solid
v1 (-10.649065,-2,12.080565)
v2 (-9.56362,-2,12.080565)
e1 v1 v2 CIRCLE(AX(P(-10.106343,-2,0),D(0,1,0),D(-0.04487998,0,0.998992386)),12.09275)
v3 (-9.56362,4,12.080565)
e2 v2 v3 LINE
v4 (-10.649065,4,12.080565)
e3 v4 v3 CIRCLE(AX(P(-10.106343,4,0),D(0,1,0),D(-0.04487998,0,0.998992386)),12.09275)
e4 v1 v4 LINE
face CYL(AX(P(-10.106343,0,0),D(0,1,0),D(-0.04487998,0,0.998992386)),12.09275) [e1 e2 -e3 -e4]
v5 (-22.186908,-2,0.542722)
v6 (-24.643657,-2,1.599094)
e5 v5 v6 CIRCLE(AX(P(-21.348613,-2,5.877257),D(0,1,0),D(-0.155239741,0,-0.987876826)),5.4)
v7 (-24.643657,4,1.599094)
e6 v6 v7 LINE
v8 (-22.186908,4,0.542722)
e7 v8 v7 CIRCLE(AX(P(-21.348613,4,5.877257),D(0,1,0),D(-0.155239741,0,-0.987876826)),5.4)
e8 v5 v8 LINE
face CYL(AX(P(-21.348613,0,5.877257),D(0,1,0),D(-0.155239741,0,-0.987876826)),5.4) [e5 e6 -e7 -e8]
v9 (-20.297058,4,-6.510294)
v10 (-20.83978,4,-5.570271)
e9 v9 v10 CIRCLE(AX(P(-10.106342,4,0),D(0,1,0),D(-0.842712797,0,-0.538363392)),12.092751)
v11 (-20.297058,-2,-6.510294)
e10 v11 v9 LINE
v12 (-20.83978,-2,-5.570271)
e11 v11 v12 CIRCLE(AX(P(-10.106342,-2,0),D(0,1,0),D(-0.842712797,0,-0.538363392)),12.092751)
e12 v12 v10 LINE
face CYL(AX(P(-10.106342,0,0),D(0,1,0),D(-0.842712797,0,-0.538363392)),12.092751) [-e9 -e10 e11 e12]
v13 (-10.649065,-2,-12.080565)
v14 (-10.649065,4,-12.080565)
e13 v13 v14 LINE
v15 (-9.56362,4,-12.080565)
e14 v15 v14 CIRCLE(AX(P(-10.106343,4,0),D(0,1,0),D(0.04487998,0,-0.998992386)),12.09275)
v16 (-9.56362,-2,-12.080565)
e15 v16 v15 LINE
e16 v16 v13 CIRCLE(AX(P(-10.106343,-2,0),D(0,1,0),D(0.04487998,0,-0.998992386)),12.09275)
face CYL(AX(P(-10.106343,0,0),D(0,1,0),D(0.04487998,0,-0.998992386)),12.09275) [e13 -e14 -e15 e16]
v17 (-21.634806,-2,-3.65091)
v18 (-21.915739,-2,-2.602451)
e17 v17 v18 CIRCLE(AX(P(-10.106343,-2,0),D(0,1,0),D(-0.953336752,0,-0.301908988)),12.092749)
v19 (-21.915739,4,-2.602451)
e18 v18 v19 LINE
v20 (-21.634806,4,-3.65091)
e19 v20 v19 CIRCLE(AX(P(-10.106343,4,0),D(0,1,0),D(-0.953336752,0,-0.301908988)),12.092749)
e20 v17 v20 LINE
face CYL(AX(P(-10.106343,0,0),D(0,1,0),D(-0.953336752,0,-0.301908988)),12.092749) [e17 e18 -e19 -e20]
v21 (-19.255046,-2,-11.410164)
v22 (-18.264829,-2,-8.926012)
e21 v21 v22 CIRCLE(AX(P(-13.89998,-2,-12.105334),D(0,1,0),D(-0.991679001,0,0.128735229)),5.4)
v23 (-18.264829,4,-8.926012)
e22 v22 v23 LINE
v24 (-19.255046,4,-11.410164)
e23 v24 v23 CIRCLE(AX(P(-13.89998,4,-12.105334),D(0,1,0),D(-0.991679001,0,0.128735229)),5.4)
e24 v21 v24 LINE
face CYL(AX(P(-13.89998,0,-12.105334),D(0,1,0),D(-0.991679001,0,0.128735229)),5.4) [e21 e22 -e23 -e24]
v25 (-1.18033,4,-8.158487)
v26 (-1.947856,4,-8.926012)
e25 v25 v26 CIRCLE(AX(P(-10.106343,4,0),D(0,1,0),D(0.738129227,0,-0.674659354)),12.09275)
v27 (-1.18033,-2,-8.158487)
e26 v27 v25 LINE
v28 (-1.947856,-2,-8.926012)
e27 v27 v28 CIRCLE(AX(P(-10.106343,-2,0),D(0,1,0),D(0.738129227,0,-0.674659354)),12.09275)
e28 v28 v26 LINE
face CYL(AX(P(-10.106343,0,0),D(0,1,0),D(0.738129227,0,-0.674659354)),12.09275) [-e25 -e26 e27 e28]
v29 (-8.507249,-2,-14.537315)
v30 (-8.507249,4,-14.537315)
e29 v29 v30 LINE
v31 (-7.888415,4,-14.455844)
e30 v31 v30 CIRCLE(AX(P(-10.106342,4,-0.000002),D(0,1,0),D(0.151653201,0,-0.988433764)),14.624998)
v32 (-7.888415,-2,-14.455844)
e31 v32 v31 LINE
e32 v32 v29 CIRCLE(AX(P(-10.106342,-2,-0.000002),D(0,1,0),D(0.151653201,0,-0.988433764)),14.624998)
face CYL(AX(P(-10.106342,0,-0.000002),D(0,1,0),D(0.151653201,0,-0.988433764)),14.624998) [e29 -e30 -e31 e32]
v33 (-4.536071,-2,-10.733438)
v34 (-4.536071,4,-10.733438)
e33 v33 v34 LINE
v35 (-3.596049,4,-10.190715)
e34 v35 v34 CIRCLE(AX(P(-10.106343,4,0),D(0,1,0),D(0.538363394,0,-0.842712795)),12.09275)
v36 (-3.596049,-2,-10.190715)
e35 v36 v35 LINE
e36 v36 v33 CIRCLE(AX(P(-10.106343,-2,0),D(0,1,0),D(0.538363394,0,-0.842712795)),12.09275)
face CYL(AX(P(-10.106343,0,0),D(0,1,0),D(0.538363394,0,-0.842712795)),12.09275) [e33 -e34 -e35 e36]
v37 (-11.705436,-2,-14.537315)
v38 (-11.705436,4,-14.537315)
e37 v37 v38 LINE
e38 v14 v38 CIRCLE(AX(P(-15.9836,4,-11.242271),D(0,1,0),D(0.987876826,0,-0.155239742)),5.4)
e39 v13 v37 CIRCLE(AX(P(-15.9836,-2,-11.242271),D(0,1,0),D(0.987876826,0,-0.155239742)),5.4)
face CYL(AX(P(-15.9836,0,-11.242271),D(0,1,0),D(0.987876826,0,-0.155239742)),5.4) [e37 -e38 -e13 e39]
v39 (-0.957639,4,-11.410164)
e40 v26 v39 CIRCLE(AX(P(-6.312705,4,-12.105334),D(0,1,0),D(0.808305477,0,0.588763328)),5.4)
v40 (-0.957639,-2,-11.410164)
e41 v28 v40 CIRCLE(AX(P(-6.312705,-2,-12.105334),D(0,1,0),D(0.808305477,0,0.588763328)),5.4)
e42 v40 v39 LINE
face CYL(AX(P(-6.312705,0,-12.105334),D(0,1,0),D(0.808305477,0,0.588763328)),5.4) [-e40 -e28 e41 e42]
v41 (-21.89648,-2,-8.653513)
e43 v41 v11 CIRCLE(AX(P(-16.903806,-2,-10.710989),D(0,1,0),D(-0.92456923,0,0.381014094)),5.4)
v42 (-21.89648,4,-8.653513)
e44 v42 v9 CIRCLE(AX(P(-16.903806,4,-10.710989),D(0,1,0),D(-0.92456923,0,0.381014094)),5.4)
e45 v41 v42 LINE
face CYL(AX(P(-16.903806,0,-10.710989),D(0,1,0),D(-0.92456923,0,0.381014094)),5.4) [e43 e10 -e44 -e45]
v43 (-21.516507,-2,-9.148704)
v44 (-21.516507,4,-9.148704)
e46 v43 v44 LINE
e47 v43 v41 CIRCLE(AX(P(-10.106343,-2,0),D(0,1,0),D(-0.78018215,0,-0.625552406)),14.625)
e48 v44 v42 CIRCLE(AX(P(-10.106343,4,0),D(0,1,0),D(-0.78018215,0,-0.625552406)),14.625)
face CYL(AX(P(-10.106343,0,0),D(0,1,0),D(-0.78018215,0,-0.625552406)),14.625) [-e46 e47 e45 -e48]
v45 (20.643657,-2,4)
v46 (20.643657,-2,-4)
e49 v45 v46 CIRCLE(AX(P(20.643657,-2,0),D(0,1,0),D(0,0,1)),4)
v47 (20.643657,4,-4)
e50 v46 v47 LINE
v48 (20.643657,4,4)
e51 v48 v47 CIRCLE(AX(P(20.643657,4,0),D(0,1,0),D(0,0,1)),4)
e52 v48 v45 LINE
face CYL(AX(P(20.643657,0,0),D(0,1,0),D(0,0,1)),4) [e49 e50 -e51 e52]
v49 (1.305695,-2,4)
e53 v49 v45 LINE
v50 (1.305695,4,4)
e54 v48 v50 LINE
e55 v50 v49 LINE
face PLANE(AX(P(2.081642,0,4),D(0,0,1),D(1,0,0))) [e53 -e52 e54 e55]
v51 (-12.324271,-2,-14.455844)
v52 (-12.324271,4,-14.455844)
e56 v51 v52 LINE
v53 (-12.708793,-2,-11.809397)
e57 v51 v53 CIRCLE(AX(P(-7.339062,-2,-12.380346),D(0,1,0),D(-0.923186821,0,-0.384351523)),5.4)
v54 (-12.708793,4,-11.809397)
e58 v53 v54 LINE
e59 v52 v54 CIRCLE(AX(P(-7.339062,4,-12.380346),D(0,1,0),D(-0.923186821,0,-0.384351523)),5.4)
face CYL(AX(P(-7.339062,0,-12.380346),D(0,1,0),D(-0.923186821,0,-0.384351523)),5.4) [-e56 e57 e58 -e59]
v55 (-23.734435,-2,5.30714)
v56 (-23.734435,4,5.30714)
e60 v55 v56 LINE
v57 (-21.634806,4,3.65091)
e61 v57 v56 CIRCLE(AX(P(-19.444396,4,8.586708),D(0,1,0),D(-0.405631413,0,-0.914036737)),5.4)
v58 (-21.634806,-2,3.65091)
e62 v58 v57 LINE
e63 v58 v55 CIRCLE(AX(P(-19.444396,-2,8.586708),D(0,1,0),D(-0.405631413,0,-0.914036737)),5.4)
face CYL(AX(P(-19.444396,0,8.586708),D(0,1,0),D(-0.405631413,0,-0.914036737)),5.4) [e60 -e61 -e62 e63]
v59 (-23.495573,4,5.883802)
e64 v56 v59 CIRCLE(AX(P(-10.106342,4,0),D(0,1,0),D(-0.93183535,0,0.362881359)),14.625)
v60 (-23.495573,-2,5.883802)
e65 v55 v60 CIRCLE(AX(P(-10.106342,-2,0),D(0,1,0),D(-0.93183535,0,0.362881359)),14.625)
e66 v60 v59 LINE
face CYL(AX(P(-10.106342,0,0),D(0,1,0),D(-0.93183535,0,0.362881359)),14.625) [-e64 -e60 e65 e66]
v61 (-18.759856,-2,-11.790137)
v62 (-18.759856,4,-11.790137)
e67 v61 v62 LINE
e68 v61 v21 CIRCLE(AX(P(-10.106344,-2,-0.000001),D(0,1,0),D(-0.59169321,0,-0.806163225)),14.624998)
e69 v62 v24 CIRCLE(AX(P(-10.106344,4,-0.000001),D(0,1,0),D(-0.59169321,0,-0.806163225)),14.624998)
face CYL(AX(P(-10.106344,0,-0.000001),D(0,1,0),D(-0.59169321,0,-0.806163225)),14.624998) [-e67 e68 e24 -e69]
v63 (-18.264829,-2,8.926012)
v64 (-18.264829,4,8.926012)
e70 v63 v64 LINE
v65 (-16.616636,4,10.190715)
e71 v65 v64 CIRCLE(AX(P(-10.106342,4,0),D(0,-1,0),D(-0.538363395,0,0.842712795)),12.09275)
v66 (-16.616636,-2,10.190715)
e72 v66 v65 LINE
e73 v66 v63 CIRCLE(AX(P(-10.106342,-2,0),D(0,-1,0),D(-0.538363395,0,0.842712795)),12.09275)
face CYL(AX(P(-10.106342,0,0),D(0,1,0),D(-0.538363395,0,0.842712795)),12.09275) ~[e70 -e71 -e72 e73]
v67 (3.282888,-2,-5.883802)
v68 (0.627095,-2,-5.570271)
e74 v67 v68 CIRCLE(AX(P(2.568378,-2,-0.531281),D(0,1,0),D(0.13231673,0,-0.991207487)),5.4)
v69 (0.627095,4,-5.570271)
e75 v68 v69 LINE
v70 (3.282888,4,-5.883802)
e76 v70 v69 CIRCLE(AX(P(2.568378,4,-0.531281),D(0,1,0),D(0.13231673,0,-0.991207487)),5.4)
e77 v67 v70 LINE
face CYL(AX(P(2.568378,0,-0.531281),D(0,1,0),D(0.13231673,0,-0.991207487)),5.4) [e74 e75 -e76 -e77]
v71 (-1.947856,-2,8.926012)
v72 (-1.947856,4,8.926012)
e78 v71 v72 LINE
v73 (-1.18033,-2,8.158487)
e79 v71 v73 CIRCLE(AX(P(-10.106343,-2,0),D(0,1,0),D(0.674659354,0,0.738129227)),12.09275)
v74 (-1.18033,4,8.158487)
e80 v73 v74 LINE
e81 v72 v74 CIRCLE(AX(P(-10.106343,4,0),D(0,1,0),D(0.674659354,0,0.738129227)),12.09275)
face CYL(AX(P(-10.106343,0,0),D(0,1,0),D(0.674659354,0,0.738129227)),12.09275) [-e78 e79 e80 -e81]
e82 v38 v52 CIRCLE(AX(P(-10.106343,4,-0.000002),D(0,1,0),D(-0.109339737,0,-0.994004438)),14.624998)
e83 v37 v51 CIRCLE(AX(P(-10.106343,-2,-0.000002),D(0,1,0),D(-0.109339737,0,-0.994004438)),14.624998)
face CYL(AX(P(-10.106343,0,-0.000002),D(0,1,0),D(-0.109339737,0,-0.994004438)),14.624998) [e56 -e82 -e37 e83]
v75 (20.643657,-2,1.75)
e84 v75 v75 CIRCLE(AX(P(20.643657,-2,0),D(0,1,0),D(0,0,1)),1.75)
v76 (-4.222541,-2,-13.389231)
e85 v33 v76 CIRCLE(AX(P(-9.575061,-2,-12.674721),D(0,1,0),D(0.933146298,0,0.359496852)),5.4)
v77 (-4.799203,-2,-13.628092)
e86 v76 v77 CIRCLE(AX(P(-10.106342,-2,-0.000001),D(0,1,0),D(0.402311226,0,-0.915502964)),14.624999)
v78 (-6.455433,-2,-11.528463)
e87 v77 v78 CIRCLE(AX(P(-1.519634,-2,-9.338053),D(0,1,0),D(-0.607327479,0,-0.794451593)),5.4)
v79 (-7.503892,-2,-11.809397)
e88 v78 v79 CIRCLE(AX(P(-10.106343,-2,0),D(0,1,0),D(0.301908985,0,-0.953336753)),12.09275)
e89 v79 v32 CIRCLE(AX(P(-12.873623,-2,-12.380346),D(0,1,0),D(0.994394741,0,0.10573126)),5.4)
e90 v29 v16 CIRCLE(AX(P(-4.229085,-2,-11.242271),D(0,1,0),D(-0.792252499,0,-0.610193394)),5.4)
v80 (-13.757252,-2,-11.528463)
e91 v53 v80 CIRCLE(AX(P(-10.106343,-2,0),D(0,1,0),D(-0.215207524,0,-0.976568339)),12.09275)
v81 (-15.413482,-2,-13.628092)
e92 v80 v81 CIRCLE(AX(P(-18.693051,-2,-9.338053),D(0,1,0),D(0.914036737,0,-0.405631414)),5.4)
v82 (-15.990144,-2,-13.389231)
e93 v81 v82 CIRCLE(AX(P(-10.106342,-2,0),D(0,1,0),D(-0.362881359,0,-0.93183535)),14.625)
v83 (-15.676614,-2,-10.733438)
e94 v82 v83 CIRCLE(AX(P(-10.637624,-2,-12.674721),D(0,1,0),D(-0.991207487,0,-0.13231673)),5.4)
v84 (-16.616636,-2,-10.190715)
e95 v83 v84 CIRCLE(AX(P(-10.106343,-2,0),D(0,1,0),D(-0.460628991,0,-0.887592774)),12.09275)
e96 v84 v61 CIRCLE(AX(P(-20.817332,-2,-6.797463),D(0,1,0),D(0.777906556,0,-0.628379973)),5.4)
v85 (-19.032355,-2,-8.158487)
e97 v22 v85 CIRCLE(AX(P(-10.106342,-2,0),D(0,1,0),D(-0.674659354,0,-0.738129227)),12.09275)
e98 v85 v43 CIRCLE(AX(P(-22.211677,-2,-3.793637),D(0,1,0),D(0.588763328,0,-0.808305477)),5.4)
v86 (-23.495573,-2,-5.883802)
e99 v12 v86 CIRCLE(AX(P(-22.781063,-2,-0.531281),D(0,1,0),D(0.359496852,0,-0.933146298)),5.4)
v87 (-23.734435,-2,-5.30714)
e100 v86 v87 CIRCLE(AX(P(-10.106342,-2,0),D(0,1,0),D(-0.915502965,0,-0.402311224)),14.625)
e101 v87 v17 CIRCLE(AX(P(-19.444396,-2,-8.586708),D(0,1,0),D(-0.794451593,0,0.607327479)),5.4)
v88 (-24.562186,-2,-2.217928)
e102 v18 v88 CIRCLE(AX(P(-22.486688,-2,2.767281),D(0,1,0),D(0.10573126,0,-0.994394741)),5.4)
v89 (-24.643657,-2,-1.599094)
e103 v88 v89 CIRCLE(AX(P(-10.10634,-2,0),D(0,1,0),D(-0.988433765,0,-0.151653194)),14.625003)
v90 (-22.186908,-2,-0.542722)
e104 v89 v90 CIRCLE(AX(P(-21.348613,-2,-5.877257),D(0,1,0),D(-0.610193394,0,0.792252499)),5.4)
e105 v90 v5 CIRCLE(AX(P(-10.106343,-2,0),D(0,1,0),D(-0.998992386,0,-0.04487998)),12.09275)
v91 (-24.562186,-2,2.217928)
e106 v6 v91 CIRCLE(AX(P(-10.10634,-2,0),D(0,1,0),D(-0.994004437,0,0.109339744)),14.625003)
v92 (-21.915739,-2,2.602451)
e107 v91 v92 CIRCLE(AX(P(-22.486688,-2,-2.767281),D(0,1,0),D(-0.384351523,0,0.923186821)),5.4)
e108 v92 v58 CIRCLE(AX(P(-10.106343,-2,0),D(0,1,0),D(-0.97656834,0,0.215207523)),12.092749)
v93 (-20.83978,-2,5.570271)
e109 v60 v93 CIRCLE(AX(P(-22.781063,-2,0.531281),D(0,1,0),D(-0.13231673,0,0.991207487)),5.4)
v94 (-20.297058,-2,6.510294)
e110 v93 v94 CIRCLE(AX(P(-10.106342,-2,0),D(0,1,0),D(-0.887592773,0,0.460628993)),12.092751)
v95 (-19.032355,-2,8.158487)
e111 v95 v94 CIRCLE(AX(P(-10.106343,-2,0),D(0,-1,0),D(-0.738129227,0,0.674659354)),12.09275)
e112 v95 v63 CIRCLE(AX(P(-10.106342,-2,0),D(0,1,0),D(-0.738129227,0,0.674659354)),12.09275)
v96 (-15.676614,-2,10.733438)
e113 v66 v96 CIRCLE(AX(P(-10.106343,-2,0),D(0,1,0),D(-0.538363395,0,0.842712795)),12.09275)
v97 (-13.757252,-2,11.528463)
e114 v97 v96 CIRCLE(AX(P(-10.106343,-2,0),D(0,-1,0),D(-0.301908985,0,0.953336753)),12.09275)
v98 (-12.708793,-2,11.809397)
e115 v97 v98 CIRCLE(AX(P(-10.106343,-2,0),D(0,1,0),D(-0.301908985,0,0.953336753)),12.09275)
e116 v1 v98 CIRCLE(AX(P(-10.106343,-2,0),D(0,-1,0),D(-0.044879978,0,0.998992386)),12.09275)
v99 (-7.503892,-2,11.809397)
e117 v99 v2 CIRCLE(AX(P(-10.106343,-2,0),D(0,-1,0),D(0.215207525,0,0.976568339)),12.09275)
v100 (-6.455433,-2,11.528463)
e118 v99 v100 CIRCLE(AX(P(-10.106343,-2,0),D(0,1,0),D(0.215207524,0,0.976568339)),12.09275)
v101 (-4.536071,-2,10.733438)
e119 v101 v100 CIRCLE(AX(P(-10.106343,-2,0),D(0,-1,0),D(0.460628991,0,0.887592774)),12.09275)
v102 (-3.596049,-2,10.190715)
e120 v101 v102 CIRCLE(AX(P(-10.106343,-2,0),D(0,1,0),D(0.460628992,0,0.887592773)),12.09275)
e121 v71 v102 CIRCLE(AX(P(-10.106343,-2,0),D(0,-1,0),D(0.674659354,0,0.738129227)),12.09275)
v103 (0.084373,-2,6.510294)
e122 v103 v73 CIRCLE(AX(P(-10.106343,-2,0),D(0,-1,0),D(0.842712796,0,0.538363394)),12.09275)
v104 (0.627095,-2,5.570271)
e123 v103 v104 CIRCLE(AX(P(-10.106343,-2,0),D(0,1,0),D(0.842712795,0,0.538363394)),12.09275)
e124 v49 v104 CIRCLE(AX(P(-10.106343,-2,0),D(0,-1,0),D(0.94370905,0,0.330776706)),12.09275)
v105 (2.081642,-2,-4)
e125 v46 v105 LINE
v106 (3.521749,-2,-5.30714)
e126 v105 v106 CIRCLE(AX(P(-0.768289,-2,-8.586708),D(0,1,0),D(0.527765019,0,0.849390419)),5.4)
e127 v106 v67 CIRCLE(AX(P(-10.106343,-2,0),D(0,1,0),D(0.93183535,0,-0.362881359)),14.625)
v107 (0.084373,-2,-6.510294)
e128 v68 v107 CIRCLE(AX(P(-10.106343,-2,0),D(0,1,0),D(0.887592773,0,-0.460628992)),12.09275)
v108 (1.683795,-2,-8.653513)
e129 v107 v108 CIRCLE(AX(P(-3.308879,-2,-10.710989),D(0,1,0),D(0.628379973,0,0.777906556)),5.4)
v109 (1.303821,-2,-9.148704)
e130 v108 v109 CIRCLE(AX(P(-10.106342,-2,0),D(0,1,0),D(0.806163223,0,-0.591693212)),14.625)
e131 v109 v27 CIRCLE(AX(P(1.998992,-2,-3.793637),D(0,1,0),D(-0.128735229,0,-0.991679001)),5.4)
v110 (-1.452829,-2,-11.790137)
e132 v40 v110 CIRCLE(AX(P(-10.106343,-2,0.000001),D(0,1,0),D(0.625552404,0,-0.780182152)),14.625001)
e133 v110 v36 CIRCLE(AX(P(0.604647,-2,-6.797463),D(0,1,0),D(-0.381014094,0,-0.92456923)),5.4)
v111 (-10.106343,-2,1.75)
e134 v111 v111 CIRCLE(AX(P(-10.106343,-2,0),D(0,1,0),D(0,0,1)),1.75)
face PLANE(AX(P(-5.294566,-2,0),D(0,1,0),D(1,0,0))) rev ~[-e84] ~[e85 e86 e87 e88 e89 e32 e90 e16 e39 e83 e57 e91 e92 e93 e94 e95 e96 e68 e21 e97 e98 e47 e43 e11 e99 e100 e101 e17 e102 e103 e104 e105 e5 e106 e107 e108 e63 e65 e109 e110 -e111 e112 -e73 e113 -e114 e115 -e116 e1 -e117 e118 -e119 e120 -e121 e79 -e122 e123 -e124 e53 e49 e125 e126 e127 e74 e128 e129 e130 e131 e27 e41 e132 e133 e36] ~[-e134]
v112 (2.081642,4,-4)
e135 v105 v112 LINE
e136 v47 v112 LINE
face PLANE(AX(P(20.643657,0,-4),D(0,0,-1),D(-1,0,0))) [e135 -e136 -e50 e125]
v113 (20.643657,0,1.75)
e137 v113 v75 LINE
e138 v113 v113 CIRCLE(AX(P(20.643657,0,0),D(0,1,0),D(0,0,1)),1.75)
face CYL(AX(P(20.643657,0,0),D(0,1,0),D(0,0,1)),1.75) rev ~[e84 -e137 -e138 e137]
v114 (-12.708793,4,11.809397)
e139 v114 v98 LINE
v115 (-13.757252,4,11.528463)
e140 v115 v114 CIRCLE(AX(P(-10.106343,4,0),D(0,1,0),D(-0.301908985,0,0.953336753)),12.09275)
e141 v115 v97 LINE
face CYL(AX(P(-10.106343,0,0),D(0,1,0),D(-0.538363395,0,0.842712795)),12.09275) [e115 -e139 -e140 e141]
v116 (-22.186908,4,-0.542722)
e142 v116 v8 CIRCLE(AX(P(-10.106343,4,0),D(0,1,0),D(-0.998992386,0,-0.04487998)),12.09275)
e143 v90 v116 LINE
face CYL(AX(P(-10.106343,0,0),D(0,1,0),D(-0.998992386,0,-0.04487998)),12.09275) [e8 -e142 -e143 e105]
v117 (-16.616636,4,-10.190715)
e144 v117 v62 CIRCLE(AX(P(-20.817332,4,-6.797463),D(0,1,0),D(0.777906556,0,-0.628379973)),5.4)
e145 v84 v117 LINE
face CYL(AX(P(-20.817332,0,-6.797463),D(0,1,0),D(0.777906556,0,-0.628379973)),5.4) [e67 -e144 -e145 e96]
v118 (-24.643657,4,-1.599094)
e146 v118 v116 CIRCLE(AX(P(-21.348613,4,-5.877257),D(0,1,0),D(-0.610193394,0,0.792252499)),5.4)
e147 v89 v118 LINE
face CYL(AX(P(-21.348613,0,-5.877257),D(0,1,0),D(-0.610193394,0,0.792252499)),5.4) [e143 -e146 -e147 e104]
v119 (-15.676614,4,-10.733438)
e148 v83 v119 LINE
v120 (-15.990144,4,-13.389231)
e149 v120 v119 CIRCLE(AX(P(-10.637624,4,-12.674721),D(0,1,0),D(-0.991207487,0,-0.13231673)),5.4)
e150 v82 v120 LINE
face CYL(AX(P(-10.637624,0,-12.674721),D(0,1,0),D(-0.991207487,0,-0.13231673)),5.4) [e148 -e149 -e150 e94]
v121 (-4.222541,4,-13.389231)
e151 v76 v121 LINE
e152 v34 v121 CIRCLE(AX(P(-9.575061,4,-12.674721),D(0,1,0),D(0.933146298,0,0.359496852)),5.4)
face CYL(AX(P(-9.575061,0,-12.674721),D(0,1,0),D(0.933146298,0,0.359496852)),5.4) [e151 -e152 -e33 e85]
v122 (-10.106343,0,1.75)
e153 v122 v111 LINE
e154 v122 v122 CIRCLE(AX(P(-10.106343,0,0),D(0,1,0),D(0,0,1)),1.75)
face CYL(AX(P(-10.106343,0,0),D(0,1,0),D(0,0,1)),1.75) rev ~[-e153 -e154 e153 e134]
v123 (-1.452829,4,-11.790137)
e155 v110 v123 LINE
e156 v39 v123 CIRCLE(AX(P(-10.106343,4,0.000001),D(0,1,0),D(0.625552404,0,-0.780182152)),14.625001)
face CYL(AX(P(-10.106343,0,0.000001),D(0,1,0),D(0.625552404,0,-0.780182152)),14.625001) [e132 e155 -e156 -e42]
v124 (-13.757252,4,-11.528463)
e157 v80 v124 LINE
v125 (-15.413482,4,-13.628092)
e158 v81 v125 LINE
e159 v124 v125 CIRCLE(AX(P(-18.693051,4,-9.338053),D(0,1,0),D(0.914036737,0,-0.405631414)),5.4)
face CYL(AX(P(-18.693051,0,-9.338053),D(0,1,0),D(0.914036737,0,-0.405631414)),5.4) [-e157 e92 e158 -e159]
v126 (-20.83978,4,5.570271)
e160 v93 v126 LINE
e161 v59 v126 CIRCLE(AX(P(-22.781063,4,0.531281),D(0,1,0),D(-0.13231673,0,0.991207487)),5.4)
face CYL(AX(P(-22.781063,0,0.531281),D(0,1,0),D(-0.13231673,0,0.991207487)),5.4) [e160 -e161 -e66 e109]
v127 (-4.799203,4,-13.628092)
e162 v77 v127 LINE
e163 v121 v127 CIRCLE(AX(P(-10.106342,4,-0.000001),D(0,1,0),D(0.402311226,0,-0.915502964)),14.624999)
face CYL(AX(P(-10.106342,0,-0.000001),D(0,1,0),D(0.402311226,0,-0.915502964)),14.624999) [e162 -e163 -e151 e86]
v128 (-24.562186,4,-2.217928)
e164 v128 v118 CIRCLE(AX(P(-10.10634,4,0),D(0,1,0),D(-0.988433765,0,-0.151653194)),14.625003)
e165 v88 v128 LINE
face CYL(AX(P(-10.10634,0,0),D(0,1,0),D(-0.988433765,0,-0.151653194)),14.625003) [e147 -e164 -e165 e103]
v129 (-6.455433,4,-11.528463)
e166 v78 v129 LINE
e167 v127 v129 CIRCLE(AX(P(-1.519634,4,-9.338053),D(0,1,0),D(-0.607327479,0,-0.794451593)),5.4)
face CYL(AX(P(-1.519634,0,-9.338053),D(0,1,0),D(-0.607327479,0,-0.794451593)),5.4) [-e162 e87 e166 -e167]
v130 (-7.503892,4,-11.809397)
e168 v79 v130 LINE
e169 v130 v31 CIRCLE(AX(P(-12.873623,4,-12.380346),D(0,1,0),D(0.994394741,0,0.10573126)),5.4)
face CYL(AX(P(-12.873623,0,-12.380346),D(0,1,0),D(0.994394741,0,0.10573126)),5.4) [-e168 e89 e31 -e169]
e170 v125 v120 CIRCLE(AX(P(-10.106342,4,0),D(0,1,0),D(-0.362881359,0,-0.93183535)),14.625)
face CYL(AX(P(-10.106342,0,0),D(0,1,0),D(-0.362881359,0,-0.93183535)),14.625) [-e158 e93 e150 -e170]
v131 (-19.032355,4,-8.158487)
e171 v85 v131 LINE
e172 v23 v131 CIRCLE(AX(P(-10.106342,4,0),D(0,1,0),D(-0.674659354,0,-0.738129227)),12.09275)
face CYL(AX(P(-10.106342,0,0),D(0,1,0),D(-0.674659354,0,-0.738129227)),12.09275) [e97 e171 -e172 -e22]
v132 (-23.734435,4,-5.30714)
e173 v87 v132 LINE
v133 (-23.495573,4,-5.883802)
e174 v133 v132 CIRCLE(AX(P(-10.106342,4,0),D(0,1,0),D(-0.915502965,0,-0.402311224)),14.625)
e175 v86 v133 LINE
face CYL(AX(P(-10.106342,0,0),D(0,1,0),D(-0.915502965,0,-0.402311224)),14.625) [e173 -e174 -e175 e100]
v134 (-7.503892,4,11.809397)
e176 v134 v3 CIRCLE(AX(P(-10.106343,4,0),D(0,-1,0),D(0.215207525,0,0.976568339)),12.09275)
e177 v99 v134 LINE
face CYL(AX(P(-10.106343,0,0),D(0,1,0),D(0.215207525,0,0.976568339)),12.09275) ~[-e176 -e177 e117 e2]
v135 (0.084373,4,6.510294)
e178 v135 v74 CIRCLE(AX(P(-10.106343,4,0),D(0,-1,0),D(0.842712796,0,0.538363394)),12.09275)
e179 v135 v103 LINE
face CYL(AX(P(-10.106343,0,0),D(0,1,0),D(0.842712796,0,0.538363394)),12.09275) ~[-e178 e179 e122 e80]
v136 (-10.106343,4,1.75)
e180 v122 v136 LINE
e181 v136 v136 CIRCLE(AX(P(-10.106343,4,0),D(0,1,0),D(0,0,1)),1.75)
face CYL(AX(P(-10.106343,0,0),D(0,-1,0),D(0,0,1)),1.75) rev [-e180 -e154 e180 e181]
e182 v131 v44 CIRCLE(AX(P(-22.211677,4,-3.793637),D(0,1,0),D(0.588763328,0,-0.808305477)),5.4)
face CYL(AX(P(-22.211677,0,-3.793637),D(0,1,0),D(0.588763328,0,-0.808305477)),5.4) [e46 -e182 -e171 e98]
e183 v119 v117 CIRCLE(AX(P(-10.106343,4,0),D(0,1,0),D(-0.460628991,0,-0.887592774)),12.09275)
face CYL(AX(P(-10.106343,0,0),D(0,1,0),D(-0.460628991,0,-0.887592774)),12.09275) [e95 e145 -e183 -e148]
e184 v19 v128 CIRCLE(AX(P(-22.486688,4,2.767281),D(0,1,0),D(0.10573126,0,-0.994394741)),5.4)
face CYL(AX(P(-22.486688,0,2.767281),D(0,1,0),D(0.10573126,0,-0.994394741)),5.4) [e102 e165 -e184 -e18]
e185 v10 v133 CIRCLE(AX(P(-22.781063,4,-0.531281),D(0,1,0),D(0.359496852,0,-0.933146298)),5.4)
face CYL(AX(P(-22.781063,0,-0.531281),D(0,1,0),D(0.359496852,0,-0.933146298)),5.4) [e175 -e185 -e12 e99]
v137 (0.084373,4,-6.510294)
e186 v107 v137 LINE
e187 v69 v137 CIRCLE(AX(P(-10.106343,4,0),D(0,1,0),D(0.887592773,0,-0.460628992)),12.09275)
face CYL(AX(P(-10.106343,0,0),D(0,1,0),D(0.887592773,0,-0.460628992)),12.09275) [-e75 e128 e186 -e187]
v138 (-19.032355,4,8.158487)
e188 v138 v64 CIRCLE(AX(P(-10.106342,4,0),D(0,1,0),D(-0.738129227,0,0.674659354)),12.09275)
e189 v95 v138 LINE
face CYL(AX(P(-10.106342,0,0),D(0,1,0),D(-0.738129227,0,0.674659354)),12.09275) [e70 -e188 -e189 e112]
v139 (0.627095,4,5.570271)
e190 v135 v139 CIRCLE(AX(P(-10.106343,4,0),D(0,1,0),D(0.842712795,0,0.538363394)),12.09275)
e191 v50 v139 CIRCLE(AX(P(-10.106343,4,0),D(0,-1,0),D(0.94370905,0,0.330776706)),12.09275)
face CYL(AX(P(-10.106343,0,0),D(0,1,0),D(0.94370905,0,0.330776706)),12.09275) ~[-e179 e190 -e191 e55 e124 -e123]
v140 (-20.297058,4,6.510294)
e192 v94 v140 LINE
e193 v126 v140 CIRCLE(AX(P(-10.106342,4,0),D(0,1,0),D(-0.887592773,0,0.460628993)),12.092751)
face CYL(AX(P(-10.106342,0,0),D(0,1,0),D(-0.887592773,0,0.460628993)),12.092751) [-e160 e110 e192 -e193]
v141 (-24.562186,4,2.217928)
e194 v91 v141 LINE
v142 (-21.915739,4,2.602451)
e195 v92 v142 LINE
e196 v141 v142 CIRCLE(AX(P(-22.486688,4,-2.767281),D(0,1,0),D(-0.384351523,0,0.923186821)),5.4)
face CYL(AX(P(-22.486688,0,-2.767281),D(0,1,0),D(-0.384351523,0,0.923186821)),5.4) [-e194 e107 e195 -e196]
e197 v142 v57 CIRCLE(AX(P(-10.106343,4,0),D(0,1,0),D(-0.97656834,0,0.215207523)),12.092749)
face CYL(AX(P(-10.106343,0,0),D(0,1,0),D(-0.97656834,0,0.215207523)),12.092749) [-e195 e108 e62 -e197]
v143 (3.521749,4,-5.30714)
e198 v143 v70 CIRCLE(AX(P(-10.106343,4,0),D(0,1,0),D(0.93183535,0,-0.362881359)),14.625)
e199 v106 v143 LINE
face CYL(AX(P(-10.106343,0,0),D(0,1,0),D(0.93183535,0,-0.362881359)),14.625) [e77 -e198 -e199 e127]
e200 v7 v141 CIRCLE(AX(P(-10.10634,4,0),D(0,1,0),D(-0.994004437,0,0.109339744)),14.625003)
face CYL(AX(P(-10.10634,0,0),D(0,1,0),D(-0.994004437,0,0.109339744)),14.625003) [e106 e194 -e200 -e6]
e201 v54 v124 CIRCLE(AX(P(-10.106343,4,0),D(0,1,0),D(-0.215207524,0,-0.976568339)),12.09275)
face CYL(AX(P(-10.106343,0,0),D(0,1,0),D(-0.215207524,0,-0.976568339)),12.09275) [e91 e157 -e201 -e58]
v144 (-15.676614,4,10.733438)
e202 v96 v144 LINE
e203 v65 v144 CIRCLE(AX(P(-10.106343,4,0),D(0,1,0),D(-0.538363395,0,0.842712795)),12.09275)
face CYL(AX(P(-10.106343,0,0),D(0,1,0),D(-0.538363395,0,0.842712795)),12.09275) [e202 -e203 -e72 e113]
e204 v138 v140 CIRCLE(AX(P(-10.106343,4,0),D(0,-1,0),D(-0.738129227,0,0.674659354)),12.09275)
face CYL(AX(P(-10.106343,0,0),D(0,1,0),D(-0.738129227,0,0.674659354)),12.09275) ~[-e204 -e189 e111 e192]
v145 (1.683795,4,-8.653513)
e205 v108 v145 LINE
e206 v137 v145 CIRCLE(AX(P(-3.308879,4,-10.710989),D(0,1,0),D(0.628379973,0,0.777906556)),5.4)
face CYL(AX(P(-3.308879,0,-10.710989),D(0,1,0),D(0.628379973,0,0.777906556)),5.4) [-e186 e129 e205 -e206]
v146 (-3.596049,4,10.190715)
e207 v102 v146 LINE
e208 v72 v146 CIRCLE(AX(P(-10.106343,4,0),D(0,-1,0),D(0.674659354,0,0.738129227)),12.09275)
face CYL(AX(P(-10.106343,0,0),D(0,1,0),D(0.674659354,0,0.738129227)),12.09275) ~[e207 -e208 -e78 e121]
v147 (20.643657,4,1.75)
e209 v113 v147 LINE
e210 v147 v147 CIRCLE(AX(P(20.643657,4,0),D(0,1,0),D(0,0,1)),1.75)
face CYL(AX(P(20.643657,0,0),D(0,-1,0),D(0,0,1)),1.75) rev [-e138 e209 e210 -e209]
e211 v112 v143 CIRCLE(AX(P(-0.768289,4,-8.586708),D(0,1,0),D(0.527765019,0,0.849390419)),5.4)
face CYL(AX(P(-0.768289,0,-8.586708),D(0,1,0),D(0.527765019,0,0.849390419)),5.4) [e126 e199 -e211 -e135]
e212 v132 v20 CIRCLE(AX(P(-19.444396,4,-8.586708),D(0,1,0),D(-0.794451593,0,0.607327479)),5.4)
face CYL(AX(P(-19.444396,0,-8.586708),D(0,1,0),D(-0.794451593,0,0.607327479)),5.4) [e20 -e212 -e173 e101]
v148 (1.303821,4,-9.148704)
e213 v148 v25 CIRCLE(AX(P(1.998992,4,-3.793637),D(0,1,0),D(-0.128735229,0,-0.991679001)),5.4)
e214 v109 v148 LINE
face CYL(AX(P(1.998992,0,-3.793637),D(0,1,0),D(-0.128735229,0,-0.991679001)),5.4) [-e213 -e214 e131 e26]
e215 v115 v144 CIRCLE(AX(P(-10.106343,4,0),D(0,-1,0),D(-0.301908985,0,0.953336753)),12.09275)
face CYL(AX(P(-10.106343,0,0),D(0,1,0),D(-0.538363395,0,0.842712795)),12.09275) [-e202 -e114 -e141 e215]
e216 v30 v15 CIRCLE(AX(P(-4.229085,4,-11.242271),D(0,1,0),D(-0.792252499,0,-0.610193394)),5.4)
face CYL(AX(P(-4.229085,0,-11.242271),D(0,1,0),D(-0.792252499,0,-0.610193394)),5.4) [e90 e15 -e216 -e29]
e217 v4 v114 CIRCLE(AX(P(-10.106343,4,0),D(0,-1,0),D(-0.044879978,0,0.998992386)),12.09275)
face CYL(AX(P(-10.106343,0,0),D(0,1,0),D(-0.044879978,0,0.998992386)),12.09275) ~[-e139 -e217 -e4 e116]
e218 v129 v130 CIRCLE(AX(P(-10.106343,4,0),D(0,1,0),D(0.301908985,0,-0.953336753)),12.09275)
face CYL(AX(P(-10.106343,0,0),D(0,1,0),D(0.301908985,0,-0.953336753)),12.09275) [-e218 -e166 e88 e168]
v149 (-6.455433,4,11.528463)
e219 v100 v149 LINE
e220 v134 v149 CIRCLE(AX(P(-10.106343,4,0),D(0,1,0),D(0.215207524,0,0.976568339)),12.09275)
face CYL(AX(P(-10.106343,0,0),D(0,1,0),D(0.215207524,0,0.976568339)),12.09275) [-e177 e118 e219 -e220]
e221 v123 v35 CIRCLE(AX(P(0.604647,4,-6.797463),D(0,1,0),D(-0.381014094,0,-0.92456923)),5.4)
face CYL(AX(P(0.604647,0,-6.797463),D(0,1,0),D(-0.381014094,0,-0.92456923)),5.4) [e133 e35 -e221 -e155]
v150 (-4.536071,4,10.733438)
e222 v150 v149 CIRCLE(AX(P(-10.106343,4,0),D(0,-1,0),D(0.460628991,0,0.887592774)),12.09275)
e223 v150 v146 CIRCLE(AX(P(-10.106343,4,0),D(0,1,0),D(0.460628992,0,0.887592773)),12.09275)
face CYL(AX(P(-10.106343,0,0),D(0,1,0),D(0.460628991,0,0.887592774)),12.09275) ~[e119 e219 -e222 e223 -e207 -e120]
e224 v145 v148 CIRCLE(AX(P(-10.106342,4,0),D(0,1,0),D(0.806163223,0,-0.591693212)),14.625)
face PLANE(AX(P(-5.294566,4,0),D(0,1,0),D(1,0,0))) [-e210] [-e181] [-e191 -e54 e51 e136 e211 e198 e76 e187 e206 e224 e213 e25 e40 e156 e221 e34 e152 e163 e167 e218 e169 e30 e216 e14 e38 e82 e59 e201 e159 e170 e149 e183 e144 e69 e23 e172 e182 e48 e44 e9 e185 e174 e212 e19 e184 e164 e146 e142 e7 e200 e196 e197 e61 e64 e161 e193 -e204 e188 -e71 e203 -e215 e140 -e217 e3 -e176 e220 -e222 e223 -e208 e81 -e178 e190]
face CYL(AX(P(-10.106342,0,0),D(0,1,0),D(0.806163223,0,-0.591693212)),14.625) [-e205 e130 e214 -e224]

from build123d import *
from build123d.topology import SkipClean

# Parameters (mm, degrees)
SKETCH1_R           = 1.75
BOSS_EXTRUDE1_DEPTH = 4
CUT_EXTRUDE1_START  = -10
CUT_EXTRUDE1_DEPTH  = 10
MOVE_FACE1_BY       = 2


with BuildPart() as part:
    # Sketch1 → Boss-Extrude1 (new body)
    with BuildSketch(Plane(origin=(0, 0, 0), x_dir=(1, 0, 0), z_dir=(0, 1, 0))):
        with BuildLine():
            Line((20.643657446, 4), (2.081641936, 4))
            ThreePointArc((2.081641936, 4), (2.861028333, 4.588201733), (3.521749436, 5.30713988))
            ThreePointArc((3.521749436, 5.30713988), (3.405395609, 5.596745198), (3.282888305, 5.883801663))
            ThreePointArc((3.282888305, 5.883801663), (1.93527598, 5.894040025), (0.627094961, 5.57027124))
            ThreePointArc((0.627094961, 5.57027124), (0.366286148, 6.046375), (0.084372603, 6.510293938))
            ThreePointArc((0.084372603, 6.510293938), (1.018855105, 7.48132754), (1.683794586, 8.65351323))
            ThreePointArc((1.683794586, 8.65351323), (1.496450048, 8.903135899), (1.303821399, 9.148703928))
            ThreePointArc((1.303821399, 9.148703928), (-0.000522033, 8.809805691), (-1.180330337, 8.158486898))
            ThreePointArc((-1.180330337, 8.158486898), (-1.555477026, 8.550865528), (-1.947855656, 8.926012217))
            ThreePointArc((-1.947855656, 8.926012217), (-1.296536862, 10.105820521), (-0.957638625, 11.410163953))
            ThreePointArc((-0.957638625, 11.410163953), (-1.203206655, 11.602792602), (-1.452829324, 11.79013714))
            ThreePointArc((-1.452829324, 11.79013714), (-2.625015014, 11.125197659), (-3.596048616, 10.190715157))
            ThreePointArc((-3.596048616, 10.190715157), (-4.059967554, 10.472628702), (-4.536071314, 10.733437515))
            ThreePointArc((-4.536071314, 10.733437515), (-4.212302529, 12.041618533), (-4.222540891, 13.389230859))
            ThreePointArc((-4.222540891, 13.389230859), (-4.509597355, 13.511738163), (-4.799202674, 13.62809199))
            ThreePointArc((-4.799202674, 13.62809199), (-5.759348103, 12.682425791), (-6.455432668, 11.528463019))
            ThreePointArc((-6.455432668, 11.528463019), (-6.976508546, 11.680699536), (-7.503891752, 11.809396783))
            ThreePointArc((-7.503891752, 11.809396783), (-7.529737283, 13.156800143), (-7.888414517, 14.455843809))
            ThreePointArc((-7.888414517, 14.455843809), (-8.197396993, 14.499881098), (-8.507248835, 14.537314892))
            ThreePointArc((-8.507248835, 14.537314892), (-9.18992168, 13.375367565), (-9.563620196, 12.080565177))
            ThreePointArc((-9.563620196, 12.080565177), (-10.106342554, 12.09275), (-10.649064912, 12.080565177))
            ThreePointArc((-10.649064912, 12.080565177), (-11.022763428, 13.375367565), (-11.705436272, 14.537314892))
            ThreePointArc((-11.705436272, 14.537314892), (-12.015288115, 14.499881098), (-12.324270591, 14.455843809))
            ThreePointArc((-12.324270591, 14.455843809), (-12.682947825, 13.156800143), (-12.708793355, 11.809396783))
            ThreePointArc((-12.708793355, 11.809396783), (-13.236176561, 11.680699536), (-13.757252439, 11.528463019))
            ThreePointArc((-13.757252439, 11.528463019), (-14.453337005, 12.682425791), (-15.413482434, 13.62809199))
            ThreePointArc((-15.413482434, 13.62809199), (-15.703087752, 13.511738163), (-15.990144217, 13.389230859))
            ThreePointArc((-15.990144217, 13.389230859), (-16.000382579, 12.041618533), (-15.676613793, 10.733437515))
            ThreePointArc((-15.676613793, 10.733437515), (-16.152717554, 10.472628702), (-16.616636492, 10.190715157))
            ThreePointArc((-16.616636492, 10.190715157), (-17.587670094, 11.125197659), (-18.759855783, 11.79013714))
            ThreePointArc((-18.759855783, 11.79013714), (-19.009478453, 11.602792602), (-19.255046482, 11.410163953))
            ThreePointArc((-19.255046482, 11.410163953), (-18.916148245, 10.105820521), (-18.264829452, 8.926012217))
            ThreePointArc((-18.264829452, 8.926012217), (-18.657208082, 8.550865528), (-19.032354771, 8.158486898))
            ThreePointArc((-19.032354771, 8.158486898), (-20.212163074, 8.809805691), (-21.516506507, 9.148703928))
            ThreePointArc((-21.516506507, 9.148703928), (-21.709135156, 8.903135899), (-21.896479694, 8.65351323))
            ThreePointArc((-21.896479694, 8.65351323), (-21.231540213, 7.48132754), (-20.297057711, 6.510293938))
            ThreePointArc((-20.297057711, 6.510293938), (-20.578971255, 6.046375), (-20.839780068, 5.57027124))
            ThreePointArc((-20.839780068, 5.57027124), (-22.147961087, 5.894040025), (-23.495573413, 5.883801663))
            ThreePointArc((-23.495573413, 5.883801663), (-23.618080717, 5.596745198), (-23.734434544, 5.30713988))
            ThreePointArc((-23.734434544, 5.30713988), (-22.788768345, 4.346994451), (-21.634805572, 3.650909885))
            ThreePointArc((-21.634805572, 3.650909885), (-21.78704209, 3.129834008), (-21.915739337, 2.602450802))
            ThreePointArc((-21.915739337, 2.602450802), (-23.263142697, 2.576605271), (-24.562186363, 2.217928037))
            ThreePointArc((-24.562186363, 2.217928037), (-24.606223651, 1.908945561), (-24.643657446, 1.599093719))
            ThreePointArc((-24.643657446, 1.599093719), (-23.481710119, 0.916420874), (-22.186907731, 0.542722358))
            ThreePointArc((-22.186907731, 0.542722358), (-22.199092554, 0), (-22.186907731, -0.542722358))
            ThreePointArc((-22.186907731, -0.542722358), (-23.481710119, -0.916420874), (-24.643657446, -1.599093719))
            ThreePointArc((-24.643657446, -1.599093719), (-24.606223651, -1.908945561), (-24.562186363, -2.217928037))
            ThreePointArc((-24.562186363, -2.217928037), (-23.263142697, -2.576605271), (-21.915739337, -2.602450802))
            ThreePointArc((-21.915739337, -2.602450802), (-21.78704209, -3.129834008), (-21.634805572, -3.650909885))
            ThreePointArc((-21.634805572, -3.650909885), (-22.788768345, -4.346994451), (-23.734434544, -5.30713988))
            ThreePointArc((-23.734434544, -5.30713988), (-23.618080717, -5.596745198), (-23.495573413, -5.883801663))
            ThreePointArc((-23.495573413, -5.883801663), (-22.147961087, -5.894040025), (-20.839780068, -5.57027124))
            ThreePointArc((-20.839780068, -5.57027124), (-20.578971255, -6.046375), (-20.297057711, -6.510293938))
            ThreePointArc((-20.297057711, -6.510293938), (-21.231540213, -7.48132754), (-21.896479694, -8.65351323))
            ThreePointArc((-21.896479694, -8.65351323), (-21.709135156, -8.903135899), (-21.516506507, -9.148703928))
            ThreePointArc((-21.516506507, -9.148703928), (-20.212163074, -8.809805691), (-19.032354771, -8.158486898))
            ThreePointArc((-19.032354771, -8.158486898), (-18.657208082, -8.550865528), (-18.264829452, -8.926012217))
            ThreePointArc((-18.264829452, -8.926012217), (-18.916148245, -10.105820521), (-19.255046482, -11.410163953))
            ThreePointArc((-19.255046482, -11.410163953), (-19.009478453, -11.602792602), (-18.759855783, -11.79013714))
            ThreePointArc((-18.759855783, -11.79013714), (-17.587670094, -11.125197659), (-16.616636492, -10.190715157))
            ThreePointArc((-16.616636492, -10.190715157), (-16.152717554, -10.472628702), (-15.676613793, -10.733437515))
            ThreePointArc((-15.676613793, -10.733437515), (-16.000382579, -12.041618533), (-15.990144217, -13.389230859))
            ThreePointArc((-15.990144217, -13.389230859), (-15.703087752, -13.511738163), (-15.413482434, -13.62809199))
            ThreePointArc((-15.413482434, -13.62809199), (-14.453337005, -12.682425791), (-13.757252439, -11.528463019))
            ThreePointArc((-13.757252439, -11.528463019), (-13.236176561, -11.680699536), (-12.708793355, -11.809396783))
            ThreePointArc((-12.708793355, -11.809396783), (-12.682947825, -13.156800143), (-12.324270591, -14.455843809))
            ThreePointArc((-12.324270591, -14.455843809), (-12.015288115, -14.499881098), (-11.705436272, -14.537314892))
            ThreePointArc((-11.705436272, -14.537314892), (-11.022763428, -13.375367565), (-10.649064912, -12.080565177))
            ThreePointArc((-10.649064912, -12.080565177), (-10.106342554, -12.09275), (-9.563620196, -12.080565177))
            ThreePointArc((-9.563620196, -12.080565177), (-9.18992168, -13.375367565), (-8.507248835, -14.537314892))
            ThreePointArc((-8.507248835, -14.537314892), (-8.197396993, -14.499881098), (-7.888414517, -14.455843809))
            ThreePointArc((-7.888414517, -14.455843809), (-7.529737283, -13.156800143), (-7.503891752, -11.809396783))
            ThreePointArc((-7.503891752, -11.809396783), (-6.976508546, -11.680699536), (-6.455432668, -11.528463019))
            ThreePointArc((-6.455432668, -11.528463019), (-5.759348103, -12.682425791), (-4.799202674, -13.62809199))
            ThreePointArc((-4.799202674, -13.62809199), (-4.509597355, -13.511738163), (-4.222540891, -13.389230859))
            ThreePointArc((-4.222540891, -13.389230859), (-4.212302529, -12.041618533), (-4.536071314, -10.733437515))
            ThreePointArc((-4.536071314, -10.733437515), (-4.059967554, -10.472628702), (-3.596048616, -10.190715157))
            ThreePointArc((-3.596048616, -10.190715157), (-2.625015014, -11.125197659), (-1.452829324, -11.79013714))
            ThreePointArc((-1.452829324, -11.79013714), (-1.203206655, -11.602792602), (-0.957638625, -11.410163953))
            ThreePointArc((-0.957638625, -11.410163953), (-1.296536862, -10.105820521), (-1.947855656, -8.926012217))
            ThreePointArc((-1.947855656, -8.926012217), (-1.555477026, -8.550865528), (-1.180330337, -8.158486898))
            ThreePointArc((-1.180330337, -8.158486898), (-0.000522033, -8.809805691), (1.303821399, -9.148703928))
            ThreePointArc((1.303821399, -9.148703928), (1.496450048, -8.903135899), (1.683794586, -8.65351323))
            ThreePointArc((1.683794586, -8.65351323), (1.018855105, -7.48132754), (0.084372603, -6.510293938))
            ThreePointArc((0.084372603, -6.510293938), (0.366286148, -6.046375), (0.627094961, -5.57027124))
            ThreePointArc((0.627094961, -5.57027124), (1.93527598, -5.894040025), (3.282888305, -5.883801663))
            ThreePointArc((3.282888305, -5.883801663), (3.405395609, -5.596745198), (3.521749436, -5.30713988))
            ThreePointArc((3.521749436, -5.30713988), (2.861028333, -4.588201733), (2.081641936, -4))
            Line((2.081641936, -4), (20.643657446, -4))
            ThreePointArc((20.643657446, -4), (24.643657446, 0), (20.643657446, 4))
        make_face()
        with Locations(Location((-10.106342554, 0, 0), (0, 0, 270))):
            Circle(SKETCH1_R, mode=Mode.SUBTRACT)
        with Locations(Location((20.643657446, 0, 0), (0, 0, 270))):
            Circle(SKETCH1_R, mode=Mode.SUBTRACT)
    extrude(amount=BOSS_EXTRUDE1_DEPTH)

    # Sketch2 → Cut-Extrude1 (cut)
    with SkipClean():  # the faces are left unmerged after this step: merging them gives an invalid solid
        with BuildSketch(Plane(origin=(0, 4, 0), x_dir=(1, 0, 0), z_dir=(0, 1, 0)).offset(CUT_EXTRUDE1_START)):
            with BuildLine():
                ThreePointArc((-21.516506507, -9.148703928), (-20.212163074, -8.809805691), (-19.032354771, -8.158486898))
                ThreePointArc((-19.032354771, -8.158486898), (-19.70016616, -7.361599771), (-20.297057711, -6.510293938))
                ThreePointArc((-20.297057711, -6.510293938), (-21.231540213, -7.48132754), (-21.896479694, -8.65351323))
                ThreePointArc((-21.896479694, -8.65351323), (-21.709135156, -8.903135899), (-21.516506507, -9.148703928))
            make_face()
            with BuildLine():
                ThreePointArc((-18.759855783, -11.79013714), (-17.587670094, -11.125197659), (-16.616636492, -10.190715157))
                ThreePointArc((-16.616636492, -10.190715157), (-17.467942324, -9.593823606), (-18.264829452, -8.926012217))
                ThreePointArc((-18.264829452, -8.926012217), (-18.916148245, -10.105820521), (-19.255046482, -11.410163953))
                ThreePointArc((-19.255046482, -11.410163953), (-19.009478453, -11.602792602), (-18.759855783, -11.79013714))
            make_face()
            with BuildLine():
                ThreePointArc((-15.413482434, -13.62809199), (-14.453337005, -12.682425791), (-13.757252439, -11.528463019))
                ThreePointArc((-13.757252439, -11.528463019), (-14.734037631, -11.172244217), (-15.676613793, -10.733437515))
                ThreePointArc((-15.676613793, -10.733437515), (-16.000382579, -12.041618533), (-15.990144217, -13.389230859))
                ThreePointArc((-15.990144217, -13.389230859), (-15.703087752, -13.511738163), (-15.413482434, -13.62809199))
            make_face()
            with BuildLine():
                ThreePointArc((-11.705436272, -14.537314892), (-11.022763428, -13.375367565), (-10.649064912, -12.080565177))
                ThreePointArc((-10.649064912, -12.080565177), (-11.684763165, -11.989294847), (-12.708793355, -11.809396783))
                ThreePointArc((-12.708793355, -11.809396783), (-12.682947825, -13.156800143), (-12.324270591, -14.455843809))
                ThreePointArc((-12.324270591, -14.455843809), (-12.015288115, -14.499881098), (-11.705436272, -14.537314892))
            make_face()
            with BuildLine():
                ThreePointArc((-7.888414517, -14.455843809), (-7.529737283, -13.156800143), (-7.503891752, -11.809396783))
                ThreePointArc((-7.503891752, -11.809396783), (-8.527921943, -11.989294847), (-9.563620196, -12.080565177))
                ThreePointArc((-9.563620196, -12.080565177), (-9.18992168, -13.375367565), (-8.507248835, -14.537314892))
                ThreePointArc((-8.507248835, -14.537314892), (-8.197396993, -14.499881098), (-7.888414517, -14.455843809))
            make_face()
            with BuildLine():
                ThreePointArc((-4.222540891, -13.389230859), (-4.212302529, -12.041618533), (-4.536071314, -10.733437515))
                ThreePointArc((-4.536071314, -10.733437515), (-5.478647477, -11.172244217), (-6.455432668, -11.528463019))
                ThreePointArc((-6.455432668, -11.528463019), (-5.759348103, -12.682425791), (-4.799202674, -13.62809199))
                ThreePointArc((-4.799202674, -13.62809199), (-4.509597355, -13.511738163), (-4.222540891, -13.389230859))
            make_face()
            with BuildLine():
                ThreePointArc((-0.957638625, -11.410163953), (-1.296536862, -10.105820521), (-1.947855656, -8.926012217))
                ThreePointArc((-1.947855656, -8.926012217), (-2.744742783, -9.593823606), (-3.596048616, -10.190715157))
                ThreePointArc((-3.596048616, -10.190715157), (-2.625015014, -11.125197659), (-1.452829324, -11.79013714))
                ThreePointArc((-1.452829324, -11.79013714), (-1.203206655, -11.602792602), (-0.957638625, -11.410163953))
            make_face()
            with BuildLine():
                ThreePointArc((1.683794586, -8.65351323), (1.018855105, -7.48132754), (0.084372603, -6.510293938))
                ThreePointArc((0.084372603, -6.510293938), (-0.512518948, -7.361599771), (-1.180330337, -8.158486898))
                ThreePointArc((-1.180330337, -8.158486898), (-0.000522033, -8.809805691), (1.303821399, -9.148703928))
                ThreePointArc((1.303821399, -9.148703928), (1.496450048, -8.903135899), (1.683794586, -8.65351323))
            make_face()
            with BuildLine():
                ThreePointArc((3.521749436, -5.30713988), (2.861028333, -4.588201733), (2.081641936, -4))
                Line((2.081641936, -4), (1.305695063, -4))
                ThreePointArc((1.305695063, -4), (0.994195953, -4.797149927), (0.627094961, -5.57027124))
                ThreePointArc((0.627094961, -5.57027124), (1.93527598, -5.894040025), (3.282888305, -5.883801663))
                ThreePointArc((3.282888305, -5.883801663), (3.405395609, -5.596745198), (3.521749436, -5.30713988))
            make_face()
        extrude(amount=CUT_EXTRUDE1_DEPTH, mode=Mode.SUBTRACT)

    # Move Face1: a face moved outward by 2.0
    extrude(part.faces().sort_by_distance((-4.746120399, 0, -0.554147216))[0], amount=MOVE_FACE1_BY, dir=(0, -1, 0))


solid = part.part
